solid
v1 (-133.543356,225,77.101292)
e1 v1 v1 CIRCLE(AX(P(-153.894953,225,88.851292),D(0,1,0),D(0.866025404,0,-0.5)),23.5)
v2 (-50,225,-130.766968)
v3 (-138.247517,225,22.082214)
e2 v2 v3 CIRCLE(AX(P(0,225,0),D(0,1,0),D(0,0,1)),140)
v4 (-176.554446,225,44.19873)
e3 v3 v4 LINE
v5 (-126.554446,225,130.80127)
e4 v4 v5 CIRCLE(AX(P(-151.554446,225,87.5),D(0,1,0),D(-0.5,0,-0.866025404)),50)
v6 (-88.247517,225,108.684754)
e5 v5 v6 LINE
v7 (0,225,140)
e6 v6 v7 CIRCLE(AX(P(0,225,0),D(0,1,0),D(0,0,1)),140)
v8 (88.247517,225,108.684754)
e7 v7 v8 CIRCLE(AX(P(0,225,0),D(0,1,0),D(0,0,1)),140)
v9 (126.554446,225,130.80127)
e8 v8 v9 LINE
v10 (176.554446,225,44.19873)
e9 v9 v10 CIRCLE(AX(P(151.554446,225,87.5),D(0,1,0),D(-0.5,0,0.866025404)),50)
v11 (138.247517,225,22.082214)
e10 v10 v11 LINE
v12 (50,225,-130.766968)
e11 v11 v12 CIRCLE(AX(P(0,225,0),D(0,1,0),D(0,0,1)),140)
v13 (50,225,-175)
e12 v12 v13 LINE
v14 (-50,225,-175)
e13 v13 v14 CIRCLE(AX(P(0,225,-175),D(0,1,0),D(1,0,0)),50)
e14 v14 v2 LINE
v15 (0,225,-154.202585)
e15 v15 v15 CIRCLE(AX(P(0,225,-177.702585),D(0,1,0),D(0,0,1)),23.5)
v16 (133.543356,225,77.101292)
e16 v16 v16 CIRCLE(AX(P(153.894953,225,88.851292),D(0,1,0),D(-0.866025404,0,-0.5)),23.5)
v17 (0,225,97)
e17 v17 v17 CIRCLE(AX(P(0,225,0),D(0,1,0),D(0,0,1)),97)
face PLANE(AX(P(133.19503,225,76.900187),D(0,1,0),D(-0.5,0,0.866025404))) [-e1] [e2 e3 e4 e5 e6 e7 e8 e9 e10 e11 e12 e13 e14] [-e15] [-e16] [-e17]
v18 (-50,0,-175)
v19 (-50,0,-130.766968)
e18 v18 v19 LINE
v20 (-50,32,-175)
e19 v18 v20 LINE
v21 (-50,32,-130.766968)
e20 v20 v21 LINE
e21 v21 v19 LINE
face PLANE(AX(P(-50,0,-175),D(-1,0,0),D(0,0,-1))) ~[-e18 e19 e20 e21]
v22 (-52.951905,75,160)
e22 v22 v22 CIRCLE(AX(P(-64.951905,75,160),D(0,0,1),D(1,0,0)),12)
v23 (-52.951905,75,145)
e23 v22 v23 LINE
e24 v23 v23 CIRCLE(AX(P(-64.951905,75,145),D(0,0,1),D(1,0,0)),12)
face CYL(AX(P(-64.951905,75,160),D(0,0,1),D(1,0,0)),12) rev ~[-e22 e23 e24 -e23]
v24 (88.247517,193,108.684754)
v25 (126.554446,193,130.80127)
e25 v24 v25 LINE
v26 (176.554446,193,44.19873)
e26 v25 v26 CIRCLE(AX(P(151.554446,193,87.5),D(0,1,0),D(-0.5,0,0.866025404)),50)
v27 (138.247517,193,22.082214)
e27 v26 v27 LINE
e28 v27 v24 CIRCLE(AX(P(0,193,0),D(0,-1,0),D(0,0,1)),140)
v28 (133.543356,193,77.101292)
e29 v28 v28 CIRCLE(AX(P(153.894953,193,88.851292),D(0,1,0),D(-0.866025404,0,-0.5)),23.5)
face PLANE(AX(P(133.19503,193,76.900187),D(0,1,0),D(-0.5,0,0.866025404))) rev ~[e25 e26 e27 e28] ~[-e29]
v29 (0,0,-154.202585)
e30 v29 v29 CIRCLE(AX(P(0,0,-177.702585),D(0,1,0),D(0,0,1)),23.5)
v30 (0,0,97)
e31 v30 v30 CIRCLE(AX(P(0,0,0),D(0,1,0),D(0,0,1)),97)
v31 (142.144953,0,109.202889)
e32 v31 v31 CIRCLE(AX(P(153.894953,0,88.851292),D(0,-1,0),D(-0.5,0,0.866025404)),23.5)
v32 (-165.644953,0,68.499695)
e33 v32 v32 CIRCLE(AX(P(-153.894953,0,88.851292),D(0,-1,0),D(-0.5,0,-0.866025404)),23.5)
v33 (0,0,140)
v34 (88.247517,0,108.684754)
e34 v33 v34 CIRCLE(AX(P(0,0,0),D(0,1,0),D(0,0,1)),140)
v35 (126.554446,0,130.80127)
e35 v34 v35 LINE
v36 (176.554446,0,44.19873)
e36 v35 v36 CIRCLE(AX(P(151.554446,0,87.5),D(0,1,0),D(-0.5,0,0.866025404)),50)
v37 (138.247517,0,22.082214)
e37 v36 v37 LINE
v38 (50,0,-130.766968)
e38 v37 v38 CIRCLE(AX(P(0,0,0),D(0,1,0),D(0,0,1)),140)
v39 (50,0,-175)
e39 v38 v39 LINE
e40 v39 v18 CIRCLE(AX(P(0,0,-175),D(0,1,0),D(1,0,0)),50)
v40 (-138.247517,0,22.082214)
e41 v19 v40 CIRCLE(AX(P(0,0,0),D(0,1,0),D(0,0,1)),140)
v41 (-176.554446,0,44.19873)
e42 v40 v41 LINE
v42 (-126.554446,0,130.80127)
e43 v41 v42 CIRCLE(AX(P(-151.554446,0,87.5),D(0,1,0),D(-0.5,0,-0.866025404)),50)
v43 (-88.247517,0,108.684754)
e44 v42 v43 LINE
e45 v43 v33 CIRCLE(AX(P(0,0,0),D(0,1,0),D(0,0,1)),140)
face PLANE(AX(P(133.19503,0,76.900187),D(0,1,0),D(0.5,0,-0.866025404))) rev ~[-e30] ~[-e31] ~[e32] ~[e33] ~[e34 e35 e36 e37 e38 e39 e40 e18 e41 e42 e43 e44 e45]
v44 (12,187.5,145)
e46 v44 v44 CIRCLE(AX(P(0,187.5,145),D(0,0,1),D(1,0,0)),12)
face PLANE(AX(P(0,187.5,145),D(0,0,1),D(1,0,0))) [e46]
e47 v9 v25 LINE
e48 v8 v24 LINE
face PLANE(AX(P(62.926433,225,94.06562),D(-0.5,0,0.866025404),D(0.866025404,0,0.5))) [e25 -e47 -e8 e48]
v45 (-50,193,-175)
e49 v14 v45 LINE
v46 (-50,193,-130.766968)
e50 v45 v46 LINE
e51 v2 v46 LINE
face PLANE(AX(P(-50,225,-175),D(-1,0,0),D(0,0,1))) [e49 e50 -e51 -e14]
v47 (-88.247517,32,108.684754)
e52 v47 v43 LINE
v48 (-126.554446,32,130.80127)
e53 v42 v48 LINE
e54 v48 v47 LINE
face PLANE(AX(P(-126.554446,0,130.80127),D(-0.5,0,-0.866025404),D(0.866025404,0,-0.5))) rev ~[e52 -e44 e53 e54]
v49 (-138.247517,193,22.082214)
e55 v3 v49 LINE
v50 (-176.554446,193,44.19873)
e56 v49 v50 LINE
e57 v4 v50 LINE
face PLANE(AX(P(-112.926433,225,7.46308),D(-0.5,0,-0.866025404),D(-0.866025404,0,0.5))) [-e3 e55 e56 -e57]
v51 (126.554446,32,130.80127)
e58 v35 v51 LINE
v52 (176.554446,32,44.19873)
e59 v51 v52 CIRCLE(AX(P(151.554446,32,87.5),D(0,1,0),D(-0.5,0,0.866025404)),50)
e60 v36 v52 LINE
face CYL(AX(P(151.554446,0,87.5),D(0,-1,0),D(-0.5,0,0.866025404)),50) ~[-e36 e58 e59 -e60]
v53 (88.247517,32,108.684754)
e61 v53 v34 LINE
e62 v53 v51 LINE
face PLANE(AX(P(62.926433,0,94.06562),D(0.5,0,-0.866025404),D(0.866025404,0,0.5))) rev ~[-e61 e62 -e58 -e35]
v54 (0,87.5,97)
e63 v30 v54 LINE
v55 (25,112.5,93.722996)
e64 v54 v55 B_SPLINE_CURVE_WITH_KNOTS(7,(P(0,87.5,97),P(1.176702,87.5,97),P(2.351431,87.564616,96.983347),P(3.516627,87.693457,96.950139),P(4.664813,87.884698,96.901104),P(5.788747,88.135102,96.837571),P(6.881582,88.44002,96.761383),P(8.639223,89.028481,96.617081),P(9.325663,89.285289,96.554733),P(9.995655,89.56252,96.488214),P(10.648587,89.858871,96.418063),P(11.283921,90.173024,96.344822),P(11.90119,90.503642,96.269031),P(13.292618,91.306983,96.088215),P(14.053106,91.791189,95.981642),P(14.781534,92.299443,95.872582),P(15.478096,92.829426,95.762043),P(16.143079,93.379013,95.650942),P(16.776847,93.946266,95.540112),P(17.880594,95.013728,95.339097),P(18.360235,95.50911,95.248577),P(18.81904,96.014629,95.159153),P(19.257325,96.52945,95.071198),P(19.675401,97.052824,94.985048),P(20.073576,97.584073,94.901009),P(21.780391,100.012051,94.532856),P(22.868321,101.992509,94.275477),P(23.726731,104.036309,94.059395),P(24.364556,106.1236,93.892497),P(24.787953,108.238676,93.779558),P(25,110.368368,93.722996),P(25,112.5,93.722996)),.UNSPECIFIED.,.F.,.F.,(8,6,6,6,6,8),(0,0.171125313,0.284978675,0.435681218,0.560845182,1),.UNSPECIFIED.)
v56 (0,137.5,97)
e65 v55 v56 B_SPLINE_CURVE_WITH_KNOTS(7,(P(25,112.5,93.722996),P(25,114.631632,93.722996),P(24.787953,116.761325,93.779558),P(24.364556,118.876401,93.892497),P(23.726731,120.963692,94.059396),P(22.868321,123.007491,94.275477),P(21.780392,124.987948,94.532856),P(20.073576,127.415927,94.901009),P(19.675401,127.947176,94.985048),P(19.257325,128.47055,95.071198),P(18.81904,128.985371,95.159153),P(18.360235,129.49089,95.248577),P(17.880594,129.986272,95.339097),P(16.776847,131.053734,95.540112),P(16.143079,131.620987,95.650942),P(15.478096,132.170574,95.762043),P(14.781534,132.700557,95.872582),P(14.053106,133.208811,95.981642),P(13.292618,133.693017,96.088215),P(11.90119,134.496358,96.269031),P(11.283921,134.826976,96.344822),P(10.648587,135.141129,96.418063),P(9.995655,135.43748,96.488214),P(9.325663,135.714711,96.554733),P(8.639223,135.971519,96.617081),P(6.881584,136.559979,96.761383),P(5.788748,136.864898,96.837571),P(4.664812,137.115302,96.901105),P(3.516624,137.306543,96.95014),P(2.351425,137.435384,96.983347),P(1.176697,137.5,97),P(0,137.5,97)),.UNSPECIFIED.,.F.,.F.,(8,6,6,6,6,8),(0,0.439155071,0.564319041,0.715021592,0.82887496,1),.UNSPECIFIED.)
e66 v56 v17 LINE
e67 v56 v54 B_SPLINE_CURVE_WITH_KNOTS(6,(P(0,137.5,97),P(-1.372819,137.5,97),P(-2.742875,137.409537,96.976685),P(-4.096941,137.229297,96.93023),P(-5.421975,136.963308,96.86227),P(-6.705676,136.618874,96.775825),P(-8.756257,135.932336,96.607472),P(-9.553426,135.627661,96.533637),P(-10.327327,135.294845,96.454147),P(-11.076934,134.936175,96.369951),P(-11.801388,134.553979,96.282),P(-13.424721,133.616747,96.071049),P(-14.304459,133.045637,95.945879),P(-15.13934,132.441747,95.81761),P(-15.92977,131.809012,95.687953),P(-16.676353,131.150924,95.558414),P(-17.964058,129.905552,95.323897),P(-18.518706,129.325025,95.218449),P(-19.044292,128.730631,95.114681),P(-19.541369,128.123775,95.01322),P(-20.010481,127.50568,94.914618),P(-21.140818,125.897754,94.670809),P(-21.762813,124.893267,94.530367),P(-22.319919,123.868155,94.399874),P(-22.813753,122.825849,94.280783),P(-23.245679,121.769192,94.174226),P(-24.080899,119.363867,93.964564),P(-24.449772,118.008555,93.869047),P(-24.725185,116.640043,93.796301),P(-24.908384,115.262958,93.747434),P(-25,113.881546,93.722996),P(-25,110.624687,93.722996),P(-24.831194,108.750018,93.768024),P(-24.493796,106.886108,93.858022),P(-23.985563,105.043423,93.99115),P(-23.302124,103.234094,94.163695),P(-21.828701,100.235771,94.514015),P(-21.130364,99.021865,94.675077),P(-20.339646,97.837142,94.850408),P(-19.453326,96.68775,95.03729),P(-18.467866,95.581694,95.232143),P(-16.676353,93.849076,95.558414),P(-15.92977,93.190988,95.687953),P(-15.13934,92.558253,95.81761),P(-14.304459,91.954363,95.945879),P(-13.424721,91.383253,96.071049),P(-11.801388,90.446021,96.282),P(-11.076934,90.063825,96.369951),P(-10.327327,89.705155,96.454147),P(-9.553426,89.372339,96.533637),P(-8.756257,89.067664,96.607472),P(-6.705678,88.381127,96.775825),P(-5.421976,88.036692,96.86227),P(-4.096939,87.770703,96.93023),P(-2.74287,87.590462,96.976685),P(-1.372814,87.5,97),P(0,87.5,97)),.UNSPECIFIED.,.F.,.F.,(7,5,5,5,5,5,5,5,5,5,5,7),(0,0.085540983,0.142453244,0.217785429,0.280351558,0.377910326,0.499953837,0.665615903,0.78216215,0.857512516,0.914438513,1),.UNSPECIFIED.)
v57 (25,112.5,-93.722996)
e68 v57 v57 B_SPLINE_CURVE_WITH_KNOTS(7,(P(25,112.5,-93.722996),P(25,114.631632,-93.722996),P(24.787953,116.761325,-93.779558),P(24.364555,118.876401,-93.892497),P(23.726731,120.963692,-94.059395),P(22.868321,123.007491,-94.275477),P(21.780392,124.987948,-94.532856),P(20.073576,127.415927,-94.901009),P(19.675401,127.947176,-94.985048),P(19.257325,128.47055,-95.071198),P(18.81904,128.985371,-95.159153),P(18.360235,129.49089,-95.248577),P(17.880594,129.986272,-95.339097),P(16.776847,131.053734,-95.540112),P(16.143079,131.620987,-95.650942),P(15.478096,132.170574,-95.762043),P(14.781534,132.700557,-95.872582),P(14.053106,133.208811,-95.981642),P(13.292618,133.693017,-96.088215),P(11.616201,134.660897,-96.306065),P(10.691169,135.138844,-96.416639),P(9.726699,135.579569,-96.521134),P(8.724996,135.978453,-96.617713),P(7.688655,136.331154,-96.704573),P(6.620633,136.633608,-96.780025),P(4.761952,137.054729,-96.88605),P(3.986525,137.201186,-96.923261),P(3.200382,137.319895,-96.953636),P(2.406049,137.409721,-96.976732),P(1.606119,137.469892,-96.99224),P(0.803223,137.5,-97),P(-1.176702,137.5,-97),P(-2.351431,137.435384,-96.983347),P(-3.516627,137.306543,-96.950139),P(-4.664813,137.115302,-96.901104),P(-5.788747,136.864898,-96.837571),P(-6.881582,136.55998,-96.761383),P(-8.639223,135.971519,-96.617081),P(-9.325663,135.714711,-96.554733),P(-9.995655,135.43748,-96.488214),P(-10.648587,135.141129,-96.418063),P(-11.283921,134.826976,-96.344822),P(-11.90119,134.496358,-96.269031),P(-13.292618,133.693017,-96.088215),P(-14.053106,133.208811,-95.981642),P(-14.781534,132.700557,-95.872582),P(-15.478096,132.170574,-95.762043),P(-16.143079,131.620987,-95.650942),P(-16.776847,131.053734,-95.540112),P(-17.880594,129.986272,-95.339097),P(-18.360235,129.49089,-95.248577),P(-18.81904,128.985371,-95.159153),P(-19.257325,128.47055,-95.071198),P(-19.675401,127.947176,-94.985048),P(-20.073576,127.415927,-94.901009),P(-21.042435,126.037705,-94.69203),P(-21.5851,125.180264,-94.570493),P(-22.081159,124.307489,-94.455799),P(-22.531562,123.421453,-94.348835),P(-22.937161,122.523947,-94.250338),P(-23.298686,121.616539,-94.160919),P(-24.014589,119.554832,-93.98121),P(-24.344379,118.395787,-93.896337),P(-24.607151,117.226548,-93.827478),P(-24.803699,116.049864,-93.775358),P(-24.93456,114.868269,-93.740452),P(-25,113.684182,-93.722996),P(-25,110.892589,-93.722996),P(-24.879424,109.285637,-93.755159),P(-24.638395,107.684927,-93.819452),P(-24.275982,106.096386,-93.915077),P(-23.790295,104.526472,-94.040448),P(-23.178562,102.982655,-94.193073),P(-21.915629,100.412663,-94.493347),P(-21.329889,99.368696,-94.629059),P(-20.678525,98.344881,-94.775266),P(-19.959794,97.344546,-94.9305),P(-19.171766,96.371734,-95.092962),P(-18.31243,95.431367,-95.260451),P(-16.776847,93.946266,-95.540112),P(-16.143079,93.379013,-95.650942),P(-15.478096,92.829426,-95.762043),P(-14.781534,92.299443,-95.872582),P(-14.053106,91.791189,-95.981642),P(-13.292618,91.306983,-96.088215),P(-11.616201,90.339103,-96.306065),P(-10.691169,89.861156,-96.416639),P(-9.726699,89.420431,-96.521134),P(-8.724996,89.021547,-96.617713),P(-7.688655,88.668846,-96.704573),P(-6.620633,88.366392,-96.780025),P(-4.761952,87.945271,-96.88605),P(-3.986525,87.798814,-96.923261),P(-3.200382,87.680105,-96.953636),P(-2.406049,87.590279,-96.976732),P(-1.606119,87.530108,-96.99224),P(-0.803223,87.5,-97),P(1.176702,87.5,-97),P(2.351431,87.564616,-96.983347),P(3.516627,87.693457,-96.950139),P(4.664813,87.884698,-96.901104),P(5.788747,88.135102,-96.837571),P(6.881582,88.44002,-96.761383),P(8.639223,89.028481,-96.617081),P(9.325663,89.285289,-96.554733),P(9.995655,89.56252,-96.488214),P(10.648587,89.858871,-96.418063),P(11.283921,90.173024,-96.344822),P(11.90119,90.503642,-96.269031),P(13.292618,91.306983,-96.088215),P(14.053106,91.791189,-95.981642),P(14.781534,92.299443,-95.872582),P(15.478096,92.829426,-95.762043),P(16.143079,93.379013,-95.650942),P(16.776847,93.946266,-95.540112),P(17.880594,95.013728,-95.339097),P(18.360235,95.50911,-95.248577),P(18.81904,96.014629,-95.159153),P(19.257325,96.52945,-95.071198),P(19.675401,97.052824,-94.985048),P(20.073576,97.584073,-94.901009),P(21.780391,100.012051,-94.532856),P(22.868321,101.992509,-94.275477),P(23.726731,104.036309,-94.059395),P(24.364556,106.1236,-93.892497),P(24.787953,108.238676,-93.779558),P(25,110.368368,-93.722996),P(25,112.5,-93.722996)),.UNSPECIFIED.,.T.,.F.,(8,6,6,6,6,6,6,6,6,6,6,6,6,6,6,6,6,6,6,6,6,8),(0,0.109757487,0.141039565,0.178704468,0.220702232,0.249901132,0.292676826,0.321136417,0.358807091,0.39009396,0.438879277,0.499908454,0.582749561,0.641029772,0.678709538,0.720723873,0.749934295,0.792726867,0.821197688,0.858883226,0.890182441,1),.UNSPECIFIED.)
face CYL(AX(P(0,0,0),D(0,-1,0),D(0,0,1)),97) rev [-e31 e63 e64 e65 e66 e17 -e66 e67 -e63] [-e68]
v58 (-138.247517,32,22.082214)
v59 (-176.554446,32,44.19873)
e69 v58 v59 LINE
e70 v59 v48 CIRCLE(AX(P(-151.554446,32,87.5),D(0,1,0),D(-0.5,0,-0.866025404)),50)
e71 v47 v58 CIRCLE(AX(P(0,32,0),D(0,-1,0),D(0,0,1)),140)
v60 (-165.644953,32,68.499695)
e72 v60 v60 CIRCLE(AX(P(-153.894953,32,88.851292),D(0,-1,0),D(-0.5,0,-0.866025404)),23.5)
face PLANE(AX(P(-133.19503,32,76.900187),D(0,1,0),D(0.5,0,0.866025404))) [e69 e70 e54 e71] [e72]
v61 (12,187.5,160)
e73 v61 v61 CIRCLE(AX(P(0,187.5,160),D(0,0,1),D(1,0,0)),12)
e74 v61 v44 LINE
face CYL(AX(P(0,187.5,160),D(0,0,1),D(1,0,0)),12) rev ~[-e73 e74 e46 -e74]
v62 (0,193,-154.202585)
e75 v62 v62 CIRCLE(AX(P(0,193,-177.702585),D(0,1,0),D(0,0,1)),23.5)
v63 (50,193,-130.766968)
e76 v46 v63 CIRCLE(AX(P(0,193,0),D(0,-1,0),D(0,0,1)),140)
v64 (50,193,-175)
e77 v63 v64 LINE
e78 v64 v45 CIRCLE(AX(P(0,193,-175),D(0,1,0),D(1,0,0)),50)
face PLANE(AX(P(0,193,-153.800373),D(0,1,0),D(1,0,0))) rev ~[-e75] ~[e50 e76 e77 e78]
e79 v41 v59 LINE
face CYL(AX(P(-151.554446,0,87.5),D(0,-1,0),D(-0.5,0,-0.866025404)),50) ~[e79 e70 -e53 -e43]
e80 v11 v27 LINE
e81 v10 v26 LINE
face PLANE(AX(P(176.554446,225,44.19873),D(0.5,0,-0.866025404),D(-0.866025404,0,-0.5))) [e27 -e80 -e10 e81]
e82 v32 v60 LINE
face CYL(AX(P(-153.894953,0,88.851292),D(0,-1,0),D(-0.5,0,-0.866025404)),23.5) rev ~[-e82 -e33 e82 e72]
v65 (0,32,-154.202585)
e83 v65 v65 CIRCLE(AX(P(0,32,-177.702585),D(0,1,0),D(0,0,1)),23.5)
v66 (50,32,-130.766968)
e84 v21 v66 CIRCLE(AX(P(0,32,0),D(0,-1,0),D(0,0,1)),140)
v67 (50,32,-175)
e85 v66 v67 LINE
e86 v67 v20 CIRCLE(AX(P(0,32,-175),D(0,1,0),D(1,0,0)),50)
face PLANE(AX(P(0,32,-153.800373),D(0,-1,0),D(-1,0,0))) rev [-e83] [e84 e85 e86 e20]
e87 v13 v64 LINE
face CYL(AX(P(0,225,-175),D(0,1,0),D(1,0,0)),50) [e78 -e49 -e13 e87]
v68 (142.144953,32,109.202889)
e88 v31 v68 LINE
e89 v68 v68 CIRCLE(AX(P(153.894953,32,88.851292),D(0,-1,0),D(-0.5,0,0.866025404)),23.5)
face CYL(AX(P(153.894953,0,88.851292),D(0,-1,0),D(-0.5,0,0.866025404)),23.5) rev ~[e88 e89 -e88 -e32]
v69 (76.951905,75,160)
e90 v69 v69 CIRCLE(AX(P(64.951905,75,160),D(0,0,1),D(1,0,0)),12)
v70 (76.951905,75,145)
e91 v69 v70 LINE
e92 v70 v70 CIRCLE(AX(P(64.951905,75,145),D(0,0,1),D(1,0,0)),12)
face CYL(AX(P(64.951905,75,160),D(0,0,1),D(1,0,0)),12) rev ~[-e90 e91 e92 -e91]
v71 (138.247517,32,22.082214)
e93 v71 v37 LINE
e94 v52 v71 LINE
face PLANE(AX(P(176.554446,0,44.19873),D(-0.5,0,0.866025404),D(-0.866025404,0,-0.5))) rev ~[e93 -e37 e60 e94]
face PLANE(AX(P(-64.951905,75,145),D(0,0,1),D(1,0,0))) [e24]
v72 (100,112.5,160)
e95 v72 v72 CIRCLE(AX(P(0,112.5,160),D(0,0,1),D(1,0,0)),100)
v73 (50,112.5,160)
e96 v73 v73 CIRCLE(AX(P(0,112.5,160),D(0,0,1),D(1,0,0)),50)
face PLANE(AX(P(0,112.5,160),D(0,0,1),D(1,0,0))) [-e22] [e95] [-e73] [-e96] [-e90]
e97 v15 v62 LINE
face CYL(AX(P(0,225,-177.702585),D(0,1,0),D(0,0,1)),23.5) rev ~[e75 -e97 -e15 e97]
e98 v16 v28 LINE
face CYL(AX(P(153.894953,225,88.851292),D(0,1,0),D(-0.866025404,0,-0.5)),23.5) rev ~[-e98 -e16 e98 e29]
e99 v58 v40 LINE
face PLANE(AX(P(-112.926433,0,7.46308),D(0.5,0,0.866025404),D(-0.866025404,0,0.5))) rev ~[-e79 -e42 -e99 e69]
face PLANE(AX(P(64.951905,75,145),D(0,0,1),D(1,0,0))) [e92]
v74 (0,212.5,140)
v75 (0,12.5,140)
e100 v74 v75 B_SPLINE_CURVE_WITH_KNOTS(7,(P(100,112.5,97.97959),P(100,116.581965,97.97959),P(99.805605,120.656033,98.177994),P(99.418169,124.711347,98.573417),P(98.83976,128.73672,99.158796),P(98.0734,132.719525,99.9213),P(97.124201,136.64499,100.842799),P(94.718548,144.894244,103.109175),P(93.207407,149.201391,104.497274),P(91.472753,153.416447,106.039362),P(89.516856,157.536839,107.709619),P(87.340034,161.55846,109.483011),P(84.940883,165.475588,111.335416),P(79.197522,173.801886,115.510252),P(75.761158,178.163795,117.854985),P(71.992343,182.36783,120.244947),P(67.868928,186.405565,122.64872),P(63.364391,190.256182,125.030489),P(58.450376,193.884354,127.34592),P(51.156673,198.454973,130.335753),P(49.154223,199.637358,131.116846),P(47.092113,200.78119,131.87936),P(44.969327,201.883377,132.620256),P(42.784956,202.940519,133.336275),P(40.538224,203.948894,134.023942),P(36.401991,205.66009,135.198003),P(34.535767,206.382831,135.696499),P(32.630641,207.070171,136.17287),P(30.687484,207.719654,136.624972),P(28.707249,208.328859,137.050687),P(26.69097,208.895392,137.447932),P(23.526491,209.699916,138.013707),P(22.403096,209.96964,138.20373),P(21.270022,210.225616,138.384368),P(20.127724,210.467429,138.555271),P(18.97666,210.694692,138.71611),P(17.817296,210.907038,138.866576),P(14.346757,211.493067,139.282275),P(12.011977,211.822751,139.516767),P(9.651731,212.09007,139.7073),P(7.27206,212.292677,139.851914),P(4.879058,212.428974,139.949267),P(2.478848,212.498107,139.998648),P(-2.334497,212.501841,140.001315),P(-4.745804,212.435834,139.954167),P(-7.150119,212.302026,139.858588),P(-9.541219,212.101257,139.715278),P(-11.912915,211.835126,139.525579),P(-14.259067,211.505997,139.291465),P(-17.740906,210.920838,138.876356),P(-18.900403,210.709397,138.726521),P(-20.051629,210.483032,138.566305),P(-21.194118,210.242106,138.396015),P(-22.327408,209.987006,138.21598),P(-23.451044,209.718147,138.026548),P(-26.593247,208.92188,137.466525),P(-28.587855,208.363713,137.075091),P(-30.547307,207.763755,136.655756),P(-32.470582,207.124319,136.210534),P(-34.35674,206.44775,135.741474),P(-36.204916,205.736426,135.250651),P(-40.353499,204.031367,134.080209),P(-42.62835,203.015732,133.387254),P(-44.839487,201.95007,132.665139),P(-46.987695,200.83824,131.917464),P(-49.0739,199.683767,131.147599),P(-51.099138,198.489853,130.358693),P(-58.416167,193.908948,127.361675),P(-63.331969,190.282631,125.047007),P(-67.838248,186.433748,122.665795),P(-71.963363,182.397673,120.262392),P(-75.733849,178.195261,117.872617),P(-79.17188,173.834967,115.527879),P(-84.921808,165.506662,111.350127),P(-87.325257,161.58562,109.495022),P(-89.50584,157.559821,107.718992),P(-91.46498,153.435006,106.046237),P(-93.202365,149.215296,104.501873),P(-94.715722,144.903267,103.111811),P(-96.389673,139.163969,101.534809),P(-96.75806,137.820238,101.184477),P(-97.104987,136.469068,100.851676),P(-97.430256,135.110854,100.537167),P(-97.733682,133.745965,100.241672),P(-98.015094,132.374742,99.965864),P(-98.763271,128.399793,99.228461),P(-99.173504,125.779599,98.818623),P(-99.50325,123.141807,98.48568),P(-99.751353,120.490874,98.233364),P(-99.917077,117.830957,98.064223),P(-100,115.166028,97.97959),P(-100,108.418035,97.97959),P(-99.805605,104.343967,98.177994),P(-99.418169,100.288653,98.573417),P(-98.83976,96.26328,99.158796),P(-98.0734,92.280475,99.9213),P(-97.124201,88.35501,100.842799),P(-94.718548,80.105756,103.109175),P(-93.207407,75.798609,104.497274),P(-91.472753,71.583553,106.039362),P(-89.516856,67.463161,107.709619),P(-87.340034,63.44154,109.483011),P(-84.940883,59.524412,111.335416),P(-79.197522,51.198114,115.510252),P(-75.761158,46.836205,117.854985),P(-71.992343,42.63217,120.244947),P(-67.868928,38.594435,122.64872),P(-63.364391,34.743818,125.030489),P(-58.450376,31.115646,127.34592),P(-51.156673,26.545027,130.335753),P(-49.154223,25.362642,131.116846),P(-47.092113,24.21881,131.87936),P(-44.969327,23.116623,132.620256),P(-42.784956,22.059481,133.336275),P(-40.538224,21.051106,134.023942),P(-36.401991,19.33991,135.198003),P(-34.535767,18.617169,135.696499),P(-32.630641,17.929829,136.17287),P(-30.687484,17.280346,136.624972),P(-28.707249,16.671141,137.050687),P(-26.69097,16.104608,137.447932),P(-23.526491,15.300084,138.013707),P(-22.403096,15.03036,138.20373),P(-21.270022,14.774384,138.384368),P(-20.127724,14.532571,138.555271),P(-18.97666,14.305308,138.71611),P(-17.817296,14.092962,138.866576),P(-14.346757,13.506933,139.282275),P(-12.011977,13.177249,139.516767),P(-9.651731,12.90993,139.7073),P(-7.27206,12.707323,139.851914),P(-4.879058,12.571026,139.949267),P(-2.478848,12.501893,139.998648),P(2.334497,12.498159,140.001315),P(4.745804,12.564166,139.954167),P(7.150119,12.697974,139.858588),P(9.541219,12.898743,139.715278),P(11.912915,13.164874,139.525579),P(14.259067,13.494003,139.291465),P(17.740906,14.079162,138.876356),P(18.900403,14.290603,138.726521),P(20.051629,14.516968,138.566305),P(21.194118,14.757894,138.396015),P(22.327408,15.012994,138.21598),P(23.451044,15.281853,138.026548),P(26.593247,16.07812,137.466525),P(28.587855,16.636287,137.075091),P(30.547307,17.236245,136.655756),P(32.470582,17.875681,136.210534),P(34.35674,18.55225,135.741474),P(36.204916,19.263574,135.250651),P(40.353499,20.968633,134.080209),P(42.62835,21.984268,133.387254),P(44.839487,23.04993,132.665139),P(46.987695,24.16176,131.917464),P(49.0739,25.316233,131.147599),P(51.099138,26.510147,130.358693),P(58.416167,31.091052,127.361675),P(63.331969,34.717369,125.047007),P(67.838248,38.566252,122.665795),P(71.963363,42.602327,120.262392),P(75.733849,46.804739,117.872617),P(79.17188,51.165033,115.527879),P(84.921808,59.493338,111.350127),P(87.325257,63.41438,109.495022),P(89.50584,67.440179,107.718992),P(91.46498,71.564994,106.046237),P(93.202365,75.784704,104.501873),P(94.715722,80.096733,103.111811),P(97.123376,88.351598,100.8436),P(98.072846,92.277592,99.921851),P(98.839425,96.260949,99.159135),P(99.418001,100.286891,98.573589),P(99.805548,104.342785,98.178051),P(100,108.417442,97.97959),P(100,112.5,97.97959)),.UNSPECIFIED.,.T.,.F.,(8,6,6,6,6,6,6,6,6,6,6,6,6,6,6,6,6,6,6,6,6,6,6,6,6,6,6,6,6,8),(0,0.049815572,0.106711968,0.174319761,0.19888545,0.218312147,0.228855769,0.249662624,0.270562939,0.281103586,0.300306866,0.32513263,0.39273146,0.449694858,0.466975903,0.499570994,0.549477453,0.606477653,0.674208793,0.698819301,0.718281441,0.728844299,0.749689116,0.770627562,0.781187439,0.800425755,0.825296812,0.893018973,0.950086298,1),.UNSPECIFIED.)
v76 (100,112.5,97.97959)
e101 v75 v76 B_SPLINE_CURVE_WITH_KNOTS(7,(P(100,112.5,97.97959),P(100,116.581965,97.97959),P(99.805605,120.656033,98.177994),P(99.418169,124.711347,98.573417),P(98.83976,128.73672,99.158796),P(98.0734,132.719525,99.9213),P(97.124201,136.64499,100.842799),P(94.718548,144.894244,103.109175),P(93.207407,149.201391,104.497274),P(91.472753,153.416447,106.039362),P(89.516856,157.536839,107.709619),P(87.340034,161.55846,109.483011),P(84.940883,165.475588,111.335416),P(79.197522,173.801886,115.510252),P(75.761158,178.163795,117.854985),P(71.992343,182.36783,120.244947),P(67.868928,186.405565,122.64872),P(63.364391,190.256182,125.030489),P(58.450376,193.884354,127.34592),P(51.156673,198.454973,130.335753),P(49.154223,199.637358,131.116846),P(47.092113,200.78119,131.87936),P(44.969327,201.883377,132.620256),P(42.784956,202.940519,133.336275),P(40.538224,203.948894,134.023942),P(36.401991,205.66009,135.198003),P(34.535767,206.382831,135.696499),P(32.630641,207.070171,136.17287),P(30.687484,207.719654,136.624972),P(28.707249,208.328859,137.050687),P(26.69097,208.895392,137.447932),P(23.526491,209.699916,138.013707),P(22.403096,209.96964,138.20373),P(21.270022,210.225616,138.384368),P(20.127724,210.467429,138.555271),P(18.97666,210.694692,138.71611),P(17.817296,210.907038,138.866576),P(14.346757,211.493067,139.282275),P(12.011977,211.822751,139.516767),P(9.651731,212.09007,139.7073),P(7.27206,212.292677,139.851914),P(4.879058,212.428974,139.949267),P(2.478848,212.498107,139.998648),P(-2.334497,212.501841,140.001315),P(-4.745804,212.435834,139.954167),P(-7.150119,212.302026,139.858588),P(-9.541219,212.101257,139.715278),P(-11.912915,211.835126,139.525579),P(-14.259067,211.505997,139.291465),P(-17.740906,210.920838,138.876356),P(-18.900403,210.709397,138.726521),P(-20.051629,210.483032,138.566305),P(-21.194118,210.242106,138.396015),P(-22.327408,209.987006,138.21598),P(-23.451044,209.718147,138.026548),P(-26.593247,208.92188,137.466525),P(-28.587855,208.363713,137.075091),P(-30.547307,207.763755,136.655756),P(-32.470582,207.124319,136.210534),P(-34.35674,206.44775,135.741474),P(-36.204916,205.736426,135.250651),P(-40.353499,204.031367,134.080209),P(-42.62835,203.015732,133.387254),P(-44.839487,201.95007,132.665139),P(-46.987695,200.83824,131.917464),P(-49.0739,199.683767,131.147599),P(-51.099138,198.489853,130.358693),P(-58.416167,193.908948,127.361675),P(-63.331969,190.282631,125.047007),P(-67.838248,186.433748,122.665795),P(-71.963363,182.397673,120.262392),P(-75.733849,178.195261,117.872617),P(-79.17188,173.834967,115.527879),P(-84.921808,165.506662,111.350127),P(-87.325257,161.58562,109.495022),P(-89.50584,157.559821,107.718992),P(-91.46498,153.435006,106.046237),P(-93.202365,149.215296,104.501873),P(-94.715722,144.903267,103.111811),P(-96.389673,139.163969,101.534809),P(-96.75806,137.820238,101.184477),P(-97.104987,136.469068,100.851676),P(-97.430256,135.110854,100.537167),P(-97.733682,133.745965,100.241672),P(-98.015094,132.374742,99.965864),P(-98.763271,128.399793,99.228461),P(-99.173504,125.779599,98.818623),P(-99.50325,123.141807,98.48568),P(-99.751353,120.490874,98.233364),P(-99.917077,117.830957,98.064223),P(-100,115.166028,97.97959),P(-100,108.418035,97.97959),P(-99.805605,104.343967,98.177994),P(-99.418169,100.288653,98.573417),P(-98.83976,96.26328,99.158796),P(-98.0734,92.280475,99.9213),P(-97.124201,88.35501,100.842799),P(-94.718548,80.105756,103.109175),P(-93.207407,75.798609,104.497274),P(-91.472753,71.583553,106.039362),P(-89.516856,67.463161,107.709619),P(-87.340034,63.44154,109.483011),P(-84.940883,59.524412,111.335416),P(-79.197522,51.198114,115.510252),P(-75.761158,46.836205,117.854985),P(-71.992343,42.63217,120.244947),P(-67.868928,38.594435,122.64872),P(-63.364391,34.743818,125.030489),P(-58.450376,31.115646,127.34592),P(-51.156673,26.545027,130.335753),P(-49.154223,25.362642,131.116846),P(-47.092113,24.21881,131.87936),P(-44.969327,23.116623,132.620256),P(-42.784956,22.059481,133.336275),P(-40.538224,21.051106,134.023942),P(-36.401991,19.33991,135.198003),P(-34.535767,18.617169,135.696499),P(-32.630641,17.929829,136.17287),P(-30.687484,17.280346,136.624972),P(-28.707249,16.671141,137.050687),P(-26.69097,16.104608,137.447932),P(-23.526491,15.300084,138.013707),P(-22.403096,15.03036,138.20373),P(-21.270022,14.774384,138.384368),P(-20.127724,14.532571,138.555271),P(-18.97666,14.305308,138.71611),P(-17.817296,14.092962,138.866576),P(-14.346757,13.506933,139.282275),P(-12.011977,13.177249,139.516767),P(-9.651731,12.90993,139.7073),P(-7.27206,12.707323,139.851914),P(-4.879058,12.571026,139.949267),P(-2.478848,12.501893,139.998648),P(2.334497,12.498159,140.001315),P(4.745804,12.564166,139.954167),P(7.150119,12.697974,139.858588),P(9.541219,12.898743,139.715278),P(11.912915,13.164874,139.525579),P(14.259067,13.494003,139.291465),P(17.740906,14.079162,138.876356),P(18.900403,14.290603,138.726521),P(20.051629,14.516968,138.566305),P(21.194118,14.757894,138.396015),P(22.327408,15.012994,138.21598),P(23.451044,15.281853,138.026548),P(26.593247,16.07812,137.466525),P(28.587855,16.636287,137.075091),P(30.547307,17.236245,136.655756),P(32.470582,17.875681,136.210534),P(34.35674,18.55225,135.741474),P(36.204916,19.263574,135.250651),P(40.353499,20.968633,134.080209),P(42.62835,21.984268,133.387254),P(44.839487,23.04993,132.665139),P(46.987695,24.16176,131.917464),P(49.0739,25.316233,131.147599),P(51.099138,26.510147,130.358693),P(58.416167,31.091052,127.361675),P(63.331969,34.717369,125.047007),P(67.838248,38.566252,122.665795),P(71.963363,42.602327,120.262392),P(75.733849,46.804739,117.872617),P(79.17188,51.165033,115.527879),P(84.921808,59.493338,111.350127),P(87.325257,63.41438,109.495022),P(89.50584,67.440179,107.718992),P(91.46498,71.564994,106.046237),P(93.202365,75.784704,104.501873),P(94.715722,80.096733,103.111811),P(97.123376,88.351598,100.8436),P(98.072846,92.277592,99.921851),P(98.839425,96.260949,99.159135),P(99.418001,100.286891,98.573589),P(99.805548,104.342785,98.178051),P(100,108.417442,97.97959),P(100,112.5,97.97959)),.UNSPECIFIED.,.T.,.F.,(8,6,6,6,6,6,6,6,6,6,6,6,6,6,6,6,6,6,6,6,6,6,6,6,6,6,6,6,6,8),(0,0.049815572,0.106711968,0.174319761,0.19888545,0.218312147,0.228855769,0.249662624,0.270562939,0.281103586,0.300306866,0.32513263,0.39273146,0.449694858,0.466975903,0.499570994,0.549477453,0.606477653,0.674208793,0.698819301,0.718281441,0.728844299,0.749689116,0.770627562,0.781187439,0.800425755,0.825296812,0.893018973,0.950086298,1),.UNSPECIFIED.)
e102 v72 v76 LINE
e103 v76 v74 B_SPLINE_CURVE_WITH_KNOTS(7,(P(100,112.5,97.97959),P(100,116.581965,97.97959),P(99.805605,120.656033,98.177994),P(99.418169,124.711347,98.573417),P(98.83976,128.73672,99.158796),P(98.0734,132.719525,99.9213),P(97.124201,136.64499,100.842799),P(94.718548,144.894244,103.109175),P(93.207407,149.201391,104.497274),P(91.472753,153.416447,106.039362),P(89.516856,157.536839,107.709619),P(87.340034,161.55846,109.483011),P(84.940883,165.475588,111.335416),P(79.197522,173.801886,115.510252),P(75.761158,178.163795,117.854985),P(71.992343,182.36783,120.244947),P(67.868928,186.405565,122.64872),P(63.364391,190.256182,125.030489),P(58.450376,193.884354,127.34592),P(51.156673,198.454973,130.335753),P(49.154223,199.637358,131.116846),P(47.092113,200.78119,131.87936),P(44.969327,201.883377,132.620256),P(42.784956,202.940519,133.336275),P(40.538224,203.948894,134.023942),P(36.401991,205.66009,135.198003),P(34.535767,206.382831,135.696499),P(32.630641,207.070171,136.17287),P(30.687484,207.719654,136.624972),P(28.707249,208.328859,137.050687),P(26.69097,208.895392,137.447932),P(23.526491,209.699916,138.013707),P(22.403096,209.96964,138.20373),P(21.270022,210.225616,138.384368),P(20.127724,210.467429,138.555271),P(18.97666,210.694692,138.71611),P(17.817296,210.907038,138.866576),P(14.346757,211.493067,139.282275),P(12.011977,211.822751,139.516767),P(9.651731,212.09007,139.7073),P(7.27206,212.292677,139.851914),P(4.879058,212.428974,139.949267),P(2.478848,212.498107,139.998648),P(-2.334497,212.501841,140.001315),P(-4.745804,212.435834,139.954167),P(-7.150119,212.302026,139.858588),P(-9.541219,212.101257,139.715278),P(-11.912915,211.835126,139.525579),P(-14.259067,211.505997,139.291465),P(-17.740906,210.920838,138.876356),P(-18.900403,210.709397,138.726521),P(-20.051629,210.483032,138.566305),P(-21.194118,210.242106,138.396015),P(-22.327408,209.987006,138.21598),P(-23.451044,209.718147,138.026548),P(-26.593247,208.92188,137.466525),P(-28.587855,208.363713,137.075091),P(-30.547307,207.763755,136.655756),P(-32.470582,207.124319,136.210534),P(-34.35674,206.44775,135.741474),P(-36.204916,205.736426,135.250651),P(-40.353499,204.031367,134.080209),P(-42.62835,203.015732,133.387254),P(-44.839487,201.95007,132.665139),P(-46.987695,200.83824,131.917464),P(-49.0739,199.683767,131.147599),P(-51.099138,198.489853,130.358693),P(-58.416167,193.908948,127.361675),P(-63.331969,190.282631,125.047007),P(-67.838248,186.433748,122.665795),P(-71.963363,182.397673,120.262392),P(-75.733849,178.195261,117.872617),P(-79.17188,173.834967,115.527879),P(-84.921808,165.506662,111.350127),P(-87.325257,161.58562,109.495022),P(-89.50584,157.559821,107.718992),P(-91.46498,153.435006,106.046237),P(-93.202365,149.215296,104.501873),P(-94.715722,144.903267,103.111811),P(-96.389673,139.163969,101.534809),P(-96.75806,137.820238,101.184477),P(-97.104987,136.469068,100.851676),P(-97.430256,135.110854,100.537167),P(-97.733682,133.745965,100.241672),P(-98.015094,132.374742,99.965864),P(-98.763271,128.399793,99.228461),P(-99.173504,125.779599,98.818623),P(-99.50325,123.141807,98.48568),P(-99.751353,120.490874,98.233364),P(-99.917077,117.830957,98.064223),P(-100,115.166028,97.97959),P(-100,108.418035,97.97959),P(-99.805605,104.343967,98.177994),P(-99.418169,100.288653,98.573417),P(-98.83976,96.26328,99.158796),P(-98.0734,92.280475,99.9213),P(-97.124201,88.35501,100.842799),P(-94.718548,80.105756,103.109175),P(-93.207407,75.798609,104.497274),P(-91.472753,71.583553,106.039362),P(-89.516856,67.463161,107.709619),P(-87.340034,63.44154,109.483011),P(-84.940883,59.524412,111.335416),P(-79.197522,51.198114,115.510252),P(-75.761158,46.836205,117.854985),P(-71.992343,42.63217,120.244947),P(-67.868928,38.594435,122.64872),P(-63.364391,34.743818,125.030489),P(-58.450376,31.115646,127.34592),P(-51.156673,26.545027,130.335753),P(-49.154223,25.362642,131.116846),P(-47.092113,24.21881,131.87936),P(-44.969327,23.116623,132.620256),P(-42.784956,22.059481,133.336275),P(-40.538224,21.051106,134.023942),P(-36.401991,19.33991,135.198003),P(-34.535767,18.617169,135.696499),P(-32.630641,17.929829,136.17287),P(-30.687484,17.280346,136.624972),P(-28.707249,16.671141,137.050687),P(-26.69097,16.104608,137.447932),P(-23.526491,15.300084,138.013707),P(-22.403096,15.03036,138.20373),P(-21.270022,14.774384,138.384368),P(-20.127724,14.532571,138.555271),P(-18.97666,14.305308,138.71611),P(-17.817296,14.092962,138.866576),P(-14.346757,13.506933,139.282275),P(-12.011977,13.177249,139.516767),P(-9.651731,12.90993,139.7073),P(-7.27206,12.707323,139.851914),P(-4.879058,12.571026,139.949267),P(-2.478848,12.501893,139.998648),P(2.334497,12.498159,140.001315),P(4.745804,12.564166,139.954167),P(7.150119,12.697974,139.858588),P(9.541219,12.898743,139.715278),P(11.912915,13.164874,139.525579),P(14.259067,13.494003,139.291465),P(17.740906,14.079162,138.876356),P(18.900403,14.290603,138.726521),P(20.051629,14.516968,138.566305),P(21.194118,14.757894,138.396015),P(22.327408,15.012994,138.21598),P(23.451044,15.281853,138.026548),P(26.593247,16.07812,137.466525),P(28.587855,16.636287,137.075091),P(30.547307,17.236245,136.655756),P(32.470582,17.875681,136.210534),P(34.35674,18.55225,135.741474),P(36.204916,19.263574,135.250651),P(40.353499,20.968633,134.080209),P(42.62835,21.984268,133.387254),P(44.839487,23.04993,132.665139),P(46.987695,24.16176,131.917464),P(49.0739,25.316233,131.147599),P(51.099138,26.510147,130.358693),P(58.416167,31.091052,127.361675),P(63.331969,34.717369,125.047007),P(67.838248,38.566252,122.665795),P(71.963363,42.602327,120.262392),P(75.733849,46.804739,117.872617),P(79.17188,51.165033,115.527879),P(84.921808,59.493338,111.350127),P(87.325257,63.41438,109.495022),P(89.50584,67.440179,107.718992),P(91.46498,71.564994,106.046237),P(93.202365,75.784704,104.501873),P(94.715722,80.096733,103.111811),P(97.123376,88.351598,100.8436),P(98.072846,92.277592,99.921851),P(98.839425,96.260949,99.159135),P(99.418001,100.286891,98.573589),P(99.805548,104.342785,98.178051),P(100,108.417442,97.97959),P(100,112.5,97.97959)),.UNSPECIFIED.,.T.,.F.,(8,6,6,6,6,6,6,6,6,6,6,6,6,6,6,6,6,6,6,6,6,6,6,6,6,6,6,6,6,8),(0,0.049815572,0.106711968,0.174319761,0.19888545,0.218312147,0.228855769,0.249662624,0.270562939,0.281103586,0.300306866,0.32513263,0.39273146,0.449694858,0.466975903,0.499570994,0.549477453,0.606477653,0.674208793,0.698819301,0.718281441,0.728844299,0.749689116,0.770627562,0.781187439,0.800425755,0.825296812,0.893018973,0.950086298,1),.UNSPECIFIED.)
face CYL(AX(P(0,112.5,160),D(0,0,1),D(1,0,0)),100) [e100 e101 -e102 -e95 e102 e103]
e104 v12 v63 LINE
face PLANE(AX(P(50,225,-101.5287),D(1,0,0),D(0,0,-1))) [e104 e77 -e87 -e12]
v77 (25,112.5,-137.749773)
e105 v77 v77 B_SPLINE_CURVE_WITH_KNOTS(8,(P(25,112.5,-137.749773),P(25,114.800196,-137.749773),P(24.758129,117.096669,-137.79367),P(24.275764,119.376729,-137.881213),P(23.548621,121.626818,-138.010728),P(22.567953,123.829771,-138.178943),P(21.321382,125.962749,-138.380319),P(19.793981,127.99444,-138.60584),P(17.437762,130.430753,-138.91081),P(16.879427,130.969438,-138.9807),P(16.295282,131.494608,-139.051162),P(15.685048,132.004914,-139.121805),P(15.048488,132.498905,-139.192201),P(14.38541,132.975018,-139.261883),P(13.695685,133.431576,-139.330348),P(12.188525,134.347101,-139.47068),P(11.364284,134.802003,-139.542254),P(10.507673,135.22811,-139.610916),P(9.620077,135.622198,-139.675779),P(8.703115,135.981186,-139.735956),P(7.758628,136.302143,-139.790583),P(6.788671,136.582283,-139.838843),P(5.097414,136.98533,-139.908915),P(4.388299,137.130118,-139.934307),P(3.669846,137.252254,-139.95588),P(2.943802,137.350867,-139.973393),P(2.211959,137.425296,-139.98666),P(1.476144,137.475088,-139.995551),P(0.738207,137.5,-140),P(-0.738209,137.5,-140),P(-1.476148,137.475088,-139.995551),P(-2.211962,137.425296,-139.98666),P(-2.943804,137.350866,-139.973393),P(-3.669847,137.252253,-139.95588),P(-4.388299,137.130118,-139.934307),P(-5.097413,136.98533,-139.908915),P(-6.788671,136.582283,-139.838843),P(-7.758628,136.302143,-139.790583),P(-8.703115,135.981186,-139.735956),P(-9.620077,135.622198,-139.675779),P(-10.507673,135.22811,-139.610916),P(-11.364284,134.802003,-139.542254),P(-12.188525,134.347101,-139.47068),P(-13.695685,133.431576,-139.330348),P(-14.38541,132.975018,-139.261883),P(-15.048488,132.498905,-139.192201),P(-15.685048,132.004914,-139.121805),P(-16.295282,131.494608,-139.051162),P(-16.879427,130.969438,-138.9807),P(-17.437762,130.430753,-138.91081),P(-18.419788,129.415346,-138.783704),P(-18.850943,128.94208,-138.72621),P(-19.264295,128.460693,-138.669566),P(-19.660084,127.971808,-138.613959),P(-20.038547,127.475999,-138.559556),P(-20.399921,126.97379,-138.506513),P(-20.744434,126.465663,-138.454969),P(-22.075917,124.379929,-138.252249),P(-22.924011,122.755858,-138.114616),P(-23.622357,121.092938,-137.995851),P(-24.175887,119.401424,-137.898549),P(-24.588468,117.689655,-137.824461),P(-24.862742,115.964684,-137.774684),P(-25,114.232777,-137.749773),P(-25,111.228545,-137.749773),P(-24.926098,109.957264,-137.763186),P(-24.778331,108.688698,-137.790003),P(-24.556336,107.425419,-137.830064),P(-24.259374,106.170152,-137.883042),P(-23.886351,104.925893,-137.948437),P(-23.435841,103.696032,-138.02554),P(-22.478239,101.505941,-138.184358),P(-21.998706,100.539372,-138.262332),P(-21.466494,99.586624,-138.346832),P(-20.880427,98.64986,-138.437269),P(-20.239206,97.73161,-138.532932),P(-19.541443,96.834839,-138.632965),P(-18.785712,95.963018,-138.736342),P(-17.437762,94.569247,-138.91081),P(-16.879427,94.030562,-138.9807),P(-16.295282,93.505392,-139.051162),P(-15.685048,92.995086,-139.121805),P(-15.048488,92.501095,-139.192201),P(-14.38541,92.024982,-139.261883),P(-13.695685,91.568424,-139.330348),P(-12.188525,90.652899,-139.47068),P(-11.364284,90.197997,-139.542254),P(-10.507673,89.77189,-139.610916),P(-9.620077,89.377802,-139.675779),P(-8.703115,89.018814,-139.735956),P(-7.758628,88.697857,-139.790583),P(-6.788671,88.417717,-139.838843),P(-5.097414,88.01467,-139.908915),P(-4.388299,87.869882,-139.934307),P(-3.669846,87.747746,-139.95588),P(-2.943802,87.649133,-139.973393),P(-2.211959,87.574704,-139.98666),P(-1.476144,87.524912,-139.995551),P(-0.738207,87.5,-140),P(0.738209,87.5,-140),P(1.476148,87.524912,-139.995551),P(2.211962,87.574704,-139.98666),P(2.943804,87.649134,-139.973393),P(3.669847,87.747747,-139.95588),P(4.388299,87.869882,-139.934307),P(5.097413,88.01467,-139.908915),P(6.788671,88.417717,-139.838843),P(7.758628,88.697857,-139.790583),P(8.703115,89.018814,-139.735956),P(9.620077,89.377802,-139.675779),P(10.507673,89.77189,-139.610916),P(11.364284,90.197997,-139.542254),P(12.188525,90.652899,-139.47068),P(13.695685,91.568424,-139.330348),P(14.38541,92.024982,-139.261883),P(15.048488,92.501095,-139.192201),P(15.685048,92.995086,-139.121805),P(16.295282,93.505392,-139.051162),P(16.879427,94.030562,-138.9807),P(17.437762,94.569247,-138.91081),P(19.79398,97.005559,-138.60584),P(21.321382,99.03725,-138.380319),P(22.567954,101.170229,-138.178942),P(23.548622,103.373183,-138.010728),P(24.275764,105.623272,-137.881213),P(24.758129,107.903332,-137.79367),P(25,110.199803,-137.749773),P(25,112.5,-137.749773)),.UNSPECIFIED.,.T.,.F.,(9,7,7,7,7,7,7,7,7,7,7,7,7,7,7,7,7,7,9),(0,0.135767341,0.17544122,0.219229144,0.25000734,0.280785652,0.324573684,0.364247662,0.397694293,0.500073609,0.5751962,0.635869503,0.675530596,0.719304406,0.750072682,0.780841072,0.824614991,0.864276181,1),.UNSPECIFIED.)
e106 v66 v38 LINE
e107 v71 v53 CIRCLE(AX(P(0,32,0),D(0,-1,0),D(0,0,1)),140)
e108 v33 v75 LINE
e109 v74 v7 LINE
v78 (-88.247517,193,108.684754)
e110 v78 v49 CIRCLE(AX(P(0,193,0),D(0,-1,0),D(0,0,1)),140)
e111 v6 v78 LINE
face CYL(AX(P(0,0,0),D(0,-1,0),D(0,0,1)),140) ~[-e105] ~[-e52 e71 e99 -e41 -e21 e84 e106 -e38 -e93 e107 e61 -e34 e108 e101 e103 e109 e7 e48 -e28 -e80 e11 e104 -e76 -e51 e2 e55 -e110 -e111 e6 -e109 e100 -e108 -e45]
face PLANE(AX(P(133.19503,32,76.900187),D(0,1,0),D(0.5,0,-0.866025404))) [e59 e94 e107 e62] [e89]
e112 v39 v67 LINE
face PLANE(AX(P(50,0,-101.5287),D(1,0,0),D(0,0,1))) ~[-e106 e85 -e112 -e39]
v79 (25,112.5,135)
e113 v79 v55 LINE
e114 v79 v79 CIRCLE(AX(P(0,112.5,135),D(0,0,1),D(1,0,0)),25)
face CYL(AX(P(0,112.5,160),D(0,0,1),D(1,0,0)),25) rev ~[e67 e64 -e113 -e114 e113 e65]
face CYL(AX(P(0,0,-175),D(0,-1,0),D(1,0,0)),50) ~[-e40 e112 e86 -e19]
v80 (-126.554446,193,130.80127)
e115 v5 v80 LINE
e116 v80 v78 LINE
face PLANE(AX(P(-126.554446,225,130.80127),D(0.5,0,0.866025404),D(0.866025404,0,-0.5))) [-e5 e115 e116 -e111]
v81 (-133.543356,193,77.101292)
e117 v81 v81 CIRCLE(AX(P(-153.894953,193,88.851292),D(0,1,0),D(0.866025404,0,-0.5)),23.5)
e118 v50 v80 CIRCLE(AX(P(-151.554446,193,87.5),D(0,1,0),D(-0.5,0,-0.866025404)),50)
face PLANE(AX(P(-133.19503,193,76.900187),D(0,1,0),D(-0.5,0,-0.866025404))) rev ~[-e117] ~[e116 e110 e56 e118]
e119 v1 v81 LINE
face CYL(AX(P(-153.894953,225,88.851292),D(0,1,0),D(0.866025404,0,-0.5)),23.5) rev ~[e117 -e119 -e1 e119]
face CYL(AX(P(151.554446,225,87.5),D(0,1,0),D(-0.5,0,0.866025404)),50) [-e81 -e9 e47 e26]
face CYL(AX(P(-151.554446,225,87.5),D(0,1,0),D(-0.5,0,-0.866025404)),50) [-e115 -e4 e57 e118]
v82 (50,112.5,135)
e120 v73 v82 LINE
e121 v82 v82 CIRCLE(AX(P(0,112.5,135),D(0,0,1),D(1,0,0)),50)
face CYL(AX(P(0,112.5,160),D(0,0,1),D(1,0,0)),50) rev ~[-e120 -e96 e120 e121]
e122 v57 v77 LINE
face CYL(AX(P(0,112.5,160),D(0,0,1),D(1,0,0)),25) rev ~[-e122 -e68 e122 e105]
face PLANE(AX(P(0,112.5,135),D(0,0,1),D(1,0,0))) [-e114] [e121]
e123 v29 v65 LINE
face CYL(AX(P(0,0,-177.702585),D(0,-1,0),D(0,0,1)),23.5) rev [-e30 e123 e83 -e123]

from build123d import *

# Parameters (mm, degrees)
SKETCH1_R                = 140
SKETCH1_R_2              = 97
BOSS_EXTRUDE1_DEPTH      = 225
SKETCH3_R                = 23.5
BOSS_EXTRUDE3_DEPTH      = 32
CIRPATTERN1_COUNT        = 3
MIRROR1_COPY_1_SKETCH_R  = 23.5
MIRROR1_COPY_1_DEPTH     = 32
MIRROR1_COPY_2_SKETCH_R  = 23.5
MIRROR1_COPY_2_DEPTH     = 32
BOSS_EXTRUDE4_REACH      = 491.361
BOSS_EXTRUDE4_END_RADIUS = 140
SKETCH4_R                = 100
SKETCH5_R                = 50
CUT_EXTRUDE1_DEPTH       = 25
SKETCH6_R                = 25
CUT_EXTRUDE2_DEPTH       = 490.361006427
SKETCH7_R                = 12
CUT_EXTRUDE3_DEPTH       = 15


with BuildPart() as part:
    # Sketch1 → Boss-Extrude1 (new body)
    with BuildSketch(Plane(origin=(0, 0, 0), x_dir=(1, 0, 0), z_dir=(0, 1, 0))):
        with Locations(Location((0, 0, 0), (0, 0, 270))):
            Circle(SKETCH1_R)
        with Locations(Location((0, 0, 0), (0, 0, 270))):
            Circle(SKETCH1_R_2, mode=Mode.SUBTRACT)
    extrude(amount=BOSS_EXTRUDE1_DEPTH)

    # Sketch3 → Boss-Extrude3 (add)
    with BuildSketch(Plane(origin=(0, 225, 0), x_dir=(1, 0, 0), z_dir=(0, 1, 0))):
        with BuildLine():
            Line((-50, 175), (-50, 101.528699727))
            Line((-50, 101.528699727), (50, 101.528699727))
            Line((50, 101.528699727), (50, 175))
            ThreePointArc((50, 175), (0, 225), (-50, 175))
        make_face()
        with Locations(Location((0, 177.702584928, 0), (0, 0, 270))):
            Circle(SKETCH3_R, mode=Mode.SUBTRACT)
    boss_extrude3 = extrude(amount=-BOSS_EXTRUDE3_DEPTH)

    # CirPattern1: Boss-Extrude3 ×3 about axis
    cirpattern1_axis = Axis((0, 0, 0), (0, 1, 0))
    for i in range(1, CIRPATTERN1_COUNT):
        add(boss_extrude3.rotate(cirpattern1_axis, i * 360 / CIRPATTERN1_COUNT))

    # Mirror1: Boss-Extrude3 across plane
    add(boss_extrude3.mirror(Plane.ZX.offset(112.5)))

    # Mirror1 copy 1 sketch → Mirror1 copy 1 (add)
    with BuildSketch(Plane(origin=(0, 0, 0), x_dir=(-0.4999999999999998, 0, -0.8660254037844387), z_dir=(0, -1, 0))):
        with BuildLine():
            Line((-50, -175), (-50, -101.528699727))
            Line((-50, -101.528699727), (50, -101.528699727))
            Line((50, -101.528699727), (50, -175))
            ThreePointArc((50, -175), (0, -225), (-50, -175))
        make_face()
        with Locations((0, -177.702584928)):
            Circle(MIRROR1_COPY_1_SKETCH_R, mode=Mode.SUBTRACT)
    extrude(amount=-MIRROR1_COPY_1_DEPTH)

    # Mirror1 copy 2 sketch → Mirror1 copy 2 (add)
    with BuildSketch(Plane(origin=(0, 0, 0), x_dir=(-0.5000000000000004, 0, 0.8660254037844384), z_dir=(0, -1, 0))):
        with BuildLine():
            Line((-50, -175), (-50, -101.528699727))
            Line((-50, -101.528699727), (50, -101.528699727))
            Line((50, -101.528699727), (50, -175))
            ThreePointArc((50, -175), (0, -225), (-50, -175))
        make_face()
        with Locations((0, -177.702584928)):
            Circle(MIRROR1_COPY_2_SKETCH_R, mode=Mode.SUBTRACT)
    extrude(amount=-MIRROR1_COPY_2_DEPTH)

    # Boss-Extrude4: up to this cylinder (the profile starts outside it)
    boss_extrude4_end = Plane(origin=(0, 112.5, 0), z_dir=(0, -1, 0)) * Cylinder(BOSS_EXTRUDE4_END_RADIUS, 1263.722, mode=Mode.PRIVATE)
    # Sketch4 → Boss-Extrude4 (add, up to the surface)
    with BuildSketch(Plane.XY.offset(160), mode=Mode.PRIVATE) as boss_extrude4_sk1:
        with Locations((0, 112.5)):
            Circle(SKETCH4_R)
    boss_extrude4_tool1 = extrude(boss_extrude4_sk1.sketch, amount=-BOSS_EXTRUDE4_REACH, mode=Mode.PRIVATE) - boss_extrude4_end
    add(boss_extrude4_tool1.solids().sort_by_distance((0, 112.5, 160))[0])

    # Sketch5 → Cut-Extrude1 (cut)
    with BuildSketch(Plane.XY.offset(160)):
        with Locations((0, 112.5)):
            Circle(SKETCH5_R)
    extrude(amount=-CUT_EXTRUDE1_DEPTH, mode=Mode.SUBTRACT)

    # Sketch6 → Cut-Extrude2 (cut, through all)
    with BuildSketch(Plane.XY.offset(160)):
        with Locations((0, 112.5)):
            Circle(SKETCH6_R)
    extrude(amount=-CUT_EXTRUDE2_DEPTH, mode=Mode.SUBTRACT)

    # Sketch7 → Cut-Extrude3 (cut)
    with BuildSketch(Plane.XY.offset(160)):
        with Locations((0, 187.5)):
            Circle(SKETCH7_R)
        with Locations((64.951905284, 75)):
            Circle(SKETCH7_R)
        with Locations((-64.951905284, 75)):
            Circle(SKETCH7_R)
    extrude(amount=-CUT_EXTRUDE3_DEPTH, mode=Mode.SUBTRACT)


solid = part.part
